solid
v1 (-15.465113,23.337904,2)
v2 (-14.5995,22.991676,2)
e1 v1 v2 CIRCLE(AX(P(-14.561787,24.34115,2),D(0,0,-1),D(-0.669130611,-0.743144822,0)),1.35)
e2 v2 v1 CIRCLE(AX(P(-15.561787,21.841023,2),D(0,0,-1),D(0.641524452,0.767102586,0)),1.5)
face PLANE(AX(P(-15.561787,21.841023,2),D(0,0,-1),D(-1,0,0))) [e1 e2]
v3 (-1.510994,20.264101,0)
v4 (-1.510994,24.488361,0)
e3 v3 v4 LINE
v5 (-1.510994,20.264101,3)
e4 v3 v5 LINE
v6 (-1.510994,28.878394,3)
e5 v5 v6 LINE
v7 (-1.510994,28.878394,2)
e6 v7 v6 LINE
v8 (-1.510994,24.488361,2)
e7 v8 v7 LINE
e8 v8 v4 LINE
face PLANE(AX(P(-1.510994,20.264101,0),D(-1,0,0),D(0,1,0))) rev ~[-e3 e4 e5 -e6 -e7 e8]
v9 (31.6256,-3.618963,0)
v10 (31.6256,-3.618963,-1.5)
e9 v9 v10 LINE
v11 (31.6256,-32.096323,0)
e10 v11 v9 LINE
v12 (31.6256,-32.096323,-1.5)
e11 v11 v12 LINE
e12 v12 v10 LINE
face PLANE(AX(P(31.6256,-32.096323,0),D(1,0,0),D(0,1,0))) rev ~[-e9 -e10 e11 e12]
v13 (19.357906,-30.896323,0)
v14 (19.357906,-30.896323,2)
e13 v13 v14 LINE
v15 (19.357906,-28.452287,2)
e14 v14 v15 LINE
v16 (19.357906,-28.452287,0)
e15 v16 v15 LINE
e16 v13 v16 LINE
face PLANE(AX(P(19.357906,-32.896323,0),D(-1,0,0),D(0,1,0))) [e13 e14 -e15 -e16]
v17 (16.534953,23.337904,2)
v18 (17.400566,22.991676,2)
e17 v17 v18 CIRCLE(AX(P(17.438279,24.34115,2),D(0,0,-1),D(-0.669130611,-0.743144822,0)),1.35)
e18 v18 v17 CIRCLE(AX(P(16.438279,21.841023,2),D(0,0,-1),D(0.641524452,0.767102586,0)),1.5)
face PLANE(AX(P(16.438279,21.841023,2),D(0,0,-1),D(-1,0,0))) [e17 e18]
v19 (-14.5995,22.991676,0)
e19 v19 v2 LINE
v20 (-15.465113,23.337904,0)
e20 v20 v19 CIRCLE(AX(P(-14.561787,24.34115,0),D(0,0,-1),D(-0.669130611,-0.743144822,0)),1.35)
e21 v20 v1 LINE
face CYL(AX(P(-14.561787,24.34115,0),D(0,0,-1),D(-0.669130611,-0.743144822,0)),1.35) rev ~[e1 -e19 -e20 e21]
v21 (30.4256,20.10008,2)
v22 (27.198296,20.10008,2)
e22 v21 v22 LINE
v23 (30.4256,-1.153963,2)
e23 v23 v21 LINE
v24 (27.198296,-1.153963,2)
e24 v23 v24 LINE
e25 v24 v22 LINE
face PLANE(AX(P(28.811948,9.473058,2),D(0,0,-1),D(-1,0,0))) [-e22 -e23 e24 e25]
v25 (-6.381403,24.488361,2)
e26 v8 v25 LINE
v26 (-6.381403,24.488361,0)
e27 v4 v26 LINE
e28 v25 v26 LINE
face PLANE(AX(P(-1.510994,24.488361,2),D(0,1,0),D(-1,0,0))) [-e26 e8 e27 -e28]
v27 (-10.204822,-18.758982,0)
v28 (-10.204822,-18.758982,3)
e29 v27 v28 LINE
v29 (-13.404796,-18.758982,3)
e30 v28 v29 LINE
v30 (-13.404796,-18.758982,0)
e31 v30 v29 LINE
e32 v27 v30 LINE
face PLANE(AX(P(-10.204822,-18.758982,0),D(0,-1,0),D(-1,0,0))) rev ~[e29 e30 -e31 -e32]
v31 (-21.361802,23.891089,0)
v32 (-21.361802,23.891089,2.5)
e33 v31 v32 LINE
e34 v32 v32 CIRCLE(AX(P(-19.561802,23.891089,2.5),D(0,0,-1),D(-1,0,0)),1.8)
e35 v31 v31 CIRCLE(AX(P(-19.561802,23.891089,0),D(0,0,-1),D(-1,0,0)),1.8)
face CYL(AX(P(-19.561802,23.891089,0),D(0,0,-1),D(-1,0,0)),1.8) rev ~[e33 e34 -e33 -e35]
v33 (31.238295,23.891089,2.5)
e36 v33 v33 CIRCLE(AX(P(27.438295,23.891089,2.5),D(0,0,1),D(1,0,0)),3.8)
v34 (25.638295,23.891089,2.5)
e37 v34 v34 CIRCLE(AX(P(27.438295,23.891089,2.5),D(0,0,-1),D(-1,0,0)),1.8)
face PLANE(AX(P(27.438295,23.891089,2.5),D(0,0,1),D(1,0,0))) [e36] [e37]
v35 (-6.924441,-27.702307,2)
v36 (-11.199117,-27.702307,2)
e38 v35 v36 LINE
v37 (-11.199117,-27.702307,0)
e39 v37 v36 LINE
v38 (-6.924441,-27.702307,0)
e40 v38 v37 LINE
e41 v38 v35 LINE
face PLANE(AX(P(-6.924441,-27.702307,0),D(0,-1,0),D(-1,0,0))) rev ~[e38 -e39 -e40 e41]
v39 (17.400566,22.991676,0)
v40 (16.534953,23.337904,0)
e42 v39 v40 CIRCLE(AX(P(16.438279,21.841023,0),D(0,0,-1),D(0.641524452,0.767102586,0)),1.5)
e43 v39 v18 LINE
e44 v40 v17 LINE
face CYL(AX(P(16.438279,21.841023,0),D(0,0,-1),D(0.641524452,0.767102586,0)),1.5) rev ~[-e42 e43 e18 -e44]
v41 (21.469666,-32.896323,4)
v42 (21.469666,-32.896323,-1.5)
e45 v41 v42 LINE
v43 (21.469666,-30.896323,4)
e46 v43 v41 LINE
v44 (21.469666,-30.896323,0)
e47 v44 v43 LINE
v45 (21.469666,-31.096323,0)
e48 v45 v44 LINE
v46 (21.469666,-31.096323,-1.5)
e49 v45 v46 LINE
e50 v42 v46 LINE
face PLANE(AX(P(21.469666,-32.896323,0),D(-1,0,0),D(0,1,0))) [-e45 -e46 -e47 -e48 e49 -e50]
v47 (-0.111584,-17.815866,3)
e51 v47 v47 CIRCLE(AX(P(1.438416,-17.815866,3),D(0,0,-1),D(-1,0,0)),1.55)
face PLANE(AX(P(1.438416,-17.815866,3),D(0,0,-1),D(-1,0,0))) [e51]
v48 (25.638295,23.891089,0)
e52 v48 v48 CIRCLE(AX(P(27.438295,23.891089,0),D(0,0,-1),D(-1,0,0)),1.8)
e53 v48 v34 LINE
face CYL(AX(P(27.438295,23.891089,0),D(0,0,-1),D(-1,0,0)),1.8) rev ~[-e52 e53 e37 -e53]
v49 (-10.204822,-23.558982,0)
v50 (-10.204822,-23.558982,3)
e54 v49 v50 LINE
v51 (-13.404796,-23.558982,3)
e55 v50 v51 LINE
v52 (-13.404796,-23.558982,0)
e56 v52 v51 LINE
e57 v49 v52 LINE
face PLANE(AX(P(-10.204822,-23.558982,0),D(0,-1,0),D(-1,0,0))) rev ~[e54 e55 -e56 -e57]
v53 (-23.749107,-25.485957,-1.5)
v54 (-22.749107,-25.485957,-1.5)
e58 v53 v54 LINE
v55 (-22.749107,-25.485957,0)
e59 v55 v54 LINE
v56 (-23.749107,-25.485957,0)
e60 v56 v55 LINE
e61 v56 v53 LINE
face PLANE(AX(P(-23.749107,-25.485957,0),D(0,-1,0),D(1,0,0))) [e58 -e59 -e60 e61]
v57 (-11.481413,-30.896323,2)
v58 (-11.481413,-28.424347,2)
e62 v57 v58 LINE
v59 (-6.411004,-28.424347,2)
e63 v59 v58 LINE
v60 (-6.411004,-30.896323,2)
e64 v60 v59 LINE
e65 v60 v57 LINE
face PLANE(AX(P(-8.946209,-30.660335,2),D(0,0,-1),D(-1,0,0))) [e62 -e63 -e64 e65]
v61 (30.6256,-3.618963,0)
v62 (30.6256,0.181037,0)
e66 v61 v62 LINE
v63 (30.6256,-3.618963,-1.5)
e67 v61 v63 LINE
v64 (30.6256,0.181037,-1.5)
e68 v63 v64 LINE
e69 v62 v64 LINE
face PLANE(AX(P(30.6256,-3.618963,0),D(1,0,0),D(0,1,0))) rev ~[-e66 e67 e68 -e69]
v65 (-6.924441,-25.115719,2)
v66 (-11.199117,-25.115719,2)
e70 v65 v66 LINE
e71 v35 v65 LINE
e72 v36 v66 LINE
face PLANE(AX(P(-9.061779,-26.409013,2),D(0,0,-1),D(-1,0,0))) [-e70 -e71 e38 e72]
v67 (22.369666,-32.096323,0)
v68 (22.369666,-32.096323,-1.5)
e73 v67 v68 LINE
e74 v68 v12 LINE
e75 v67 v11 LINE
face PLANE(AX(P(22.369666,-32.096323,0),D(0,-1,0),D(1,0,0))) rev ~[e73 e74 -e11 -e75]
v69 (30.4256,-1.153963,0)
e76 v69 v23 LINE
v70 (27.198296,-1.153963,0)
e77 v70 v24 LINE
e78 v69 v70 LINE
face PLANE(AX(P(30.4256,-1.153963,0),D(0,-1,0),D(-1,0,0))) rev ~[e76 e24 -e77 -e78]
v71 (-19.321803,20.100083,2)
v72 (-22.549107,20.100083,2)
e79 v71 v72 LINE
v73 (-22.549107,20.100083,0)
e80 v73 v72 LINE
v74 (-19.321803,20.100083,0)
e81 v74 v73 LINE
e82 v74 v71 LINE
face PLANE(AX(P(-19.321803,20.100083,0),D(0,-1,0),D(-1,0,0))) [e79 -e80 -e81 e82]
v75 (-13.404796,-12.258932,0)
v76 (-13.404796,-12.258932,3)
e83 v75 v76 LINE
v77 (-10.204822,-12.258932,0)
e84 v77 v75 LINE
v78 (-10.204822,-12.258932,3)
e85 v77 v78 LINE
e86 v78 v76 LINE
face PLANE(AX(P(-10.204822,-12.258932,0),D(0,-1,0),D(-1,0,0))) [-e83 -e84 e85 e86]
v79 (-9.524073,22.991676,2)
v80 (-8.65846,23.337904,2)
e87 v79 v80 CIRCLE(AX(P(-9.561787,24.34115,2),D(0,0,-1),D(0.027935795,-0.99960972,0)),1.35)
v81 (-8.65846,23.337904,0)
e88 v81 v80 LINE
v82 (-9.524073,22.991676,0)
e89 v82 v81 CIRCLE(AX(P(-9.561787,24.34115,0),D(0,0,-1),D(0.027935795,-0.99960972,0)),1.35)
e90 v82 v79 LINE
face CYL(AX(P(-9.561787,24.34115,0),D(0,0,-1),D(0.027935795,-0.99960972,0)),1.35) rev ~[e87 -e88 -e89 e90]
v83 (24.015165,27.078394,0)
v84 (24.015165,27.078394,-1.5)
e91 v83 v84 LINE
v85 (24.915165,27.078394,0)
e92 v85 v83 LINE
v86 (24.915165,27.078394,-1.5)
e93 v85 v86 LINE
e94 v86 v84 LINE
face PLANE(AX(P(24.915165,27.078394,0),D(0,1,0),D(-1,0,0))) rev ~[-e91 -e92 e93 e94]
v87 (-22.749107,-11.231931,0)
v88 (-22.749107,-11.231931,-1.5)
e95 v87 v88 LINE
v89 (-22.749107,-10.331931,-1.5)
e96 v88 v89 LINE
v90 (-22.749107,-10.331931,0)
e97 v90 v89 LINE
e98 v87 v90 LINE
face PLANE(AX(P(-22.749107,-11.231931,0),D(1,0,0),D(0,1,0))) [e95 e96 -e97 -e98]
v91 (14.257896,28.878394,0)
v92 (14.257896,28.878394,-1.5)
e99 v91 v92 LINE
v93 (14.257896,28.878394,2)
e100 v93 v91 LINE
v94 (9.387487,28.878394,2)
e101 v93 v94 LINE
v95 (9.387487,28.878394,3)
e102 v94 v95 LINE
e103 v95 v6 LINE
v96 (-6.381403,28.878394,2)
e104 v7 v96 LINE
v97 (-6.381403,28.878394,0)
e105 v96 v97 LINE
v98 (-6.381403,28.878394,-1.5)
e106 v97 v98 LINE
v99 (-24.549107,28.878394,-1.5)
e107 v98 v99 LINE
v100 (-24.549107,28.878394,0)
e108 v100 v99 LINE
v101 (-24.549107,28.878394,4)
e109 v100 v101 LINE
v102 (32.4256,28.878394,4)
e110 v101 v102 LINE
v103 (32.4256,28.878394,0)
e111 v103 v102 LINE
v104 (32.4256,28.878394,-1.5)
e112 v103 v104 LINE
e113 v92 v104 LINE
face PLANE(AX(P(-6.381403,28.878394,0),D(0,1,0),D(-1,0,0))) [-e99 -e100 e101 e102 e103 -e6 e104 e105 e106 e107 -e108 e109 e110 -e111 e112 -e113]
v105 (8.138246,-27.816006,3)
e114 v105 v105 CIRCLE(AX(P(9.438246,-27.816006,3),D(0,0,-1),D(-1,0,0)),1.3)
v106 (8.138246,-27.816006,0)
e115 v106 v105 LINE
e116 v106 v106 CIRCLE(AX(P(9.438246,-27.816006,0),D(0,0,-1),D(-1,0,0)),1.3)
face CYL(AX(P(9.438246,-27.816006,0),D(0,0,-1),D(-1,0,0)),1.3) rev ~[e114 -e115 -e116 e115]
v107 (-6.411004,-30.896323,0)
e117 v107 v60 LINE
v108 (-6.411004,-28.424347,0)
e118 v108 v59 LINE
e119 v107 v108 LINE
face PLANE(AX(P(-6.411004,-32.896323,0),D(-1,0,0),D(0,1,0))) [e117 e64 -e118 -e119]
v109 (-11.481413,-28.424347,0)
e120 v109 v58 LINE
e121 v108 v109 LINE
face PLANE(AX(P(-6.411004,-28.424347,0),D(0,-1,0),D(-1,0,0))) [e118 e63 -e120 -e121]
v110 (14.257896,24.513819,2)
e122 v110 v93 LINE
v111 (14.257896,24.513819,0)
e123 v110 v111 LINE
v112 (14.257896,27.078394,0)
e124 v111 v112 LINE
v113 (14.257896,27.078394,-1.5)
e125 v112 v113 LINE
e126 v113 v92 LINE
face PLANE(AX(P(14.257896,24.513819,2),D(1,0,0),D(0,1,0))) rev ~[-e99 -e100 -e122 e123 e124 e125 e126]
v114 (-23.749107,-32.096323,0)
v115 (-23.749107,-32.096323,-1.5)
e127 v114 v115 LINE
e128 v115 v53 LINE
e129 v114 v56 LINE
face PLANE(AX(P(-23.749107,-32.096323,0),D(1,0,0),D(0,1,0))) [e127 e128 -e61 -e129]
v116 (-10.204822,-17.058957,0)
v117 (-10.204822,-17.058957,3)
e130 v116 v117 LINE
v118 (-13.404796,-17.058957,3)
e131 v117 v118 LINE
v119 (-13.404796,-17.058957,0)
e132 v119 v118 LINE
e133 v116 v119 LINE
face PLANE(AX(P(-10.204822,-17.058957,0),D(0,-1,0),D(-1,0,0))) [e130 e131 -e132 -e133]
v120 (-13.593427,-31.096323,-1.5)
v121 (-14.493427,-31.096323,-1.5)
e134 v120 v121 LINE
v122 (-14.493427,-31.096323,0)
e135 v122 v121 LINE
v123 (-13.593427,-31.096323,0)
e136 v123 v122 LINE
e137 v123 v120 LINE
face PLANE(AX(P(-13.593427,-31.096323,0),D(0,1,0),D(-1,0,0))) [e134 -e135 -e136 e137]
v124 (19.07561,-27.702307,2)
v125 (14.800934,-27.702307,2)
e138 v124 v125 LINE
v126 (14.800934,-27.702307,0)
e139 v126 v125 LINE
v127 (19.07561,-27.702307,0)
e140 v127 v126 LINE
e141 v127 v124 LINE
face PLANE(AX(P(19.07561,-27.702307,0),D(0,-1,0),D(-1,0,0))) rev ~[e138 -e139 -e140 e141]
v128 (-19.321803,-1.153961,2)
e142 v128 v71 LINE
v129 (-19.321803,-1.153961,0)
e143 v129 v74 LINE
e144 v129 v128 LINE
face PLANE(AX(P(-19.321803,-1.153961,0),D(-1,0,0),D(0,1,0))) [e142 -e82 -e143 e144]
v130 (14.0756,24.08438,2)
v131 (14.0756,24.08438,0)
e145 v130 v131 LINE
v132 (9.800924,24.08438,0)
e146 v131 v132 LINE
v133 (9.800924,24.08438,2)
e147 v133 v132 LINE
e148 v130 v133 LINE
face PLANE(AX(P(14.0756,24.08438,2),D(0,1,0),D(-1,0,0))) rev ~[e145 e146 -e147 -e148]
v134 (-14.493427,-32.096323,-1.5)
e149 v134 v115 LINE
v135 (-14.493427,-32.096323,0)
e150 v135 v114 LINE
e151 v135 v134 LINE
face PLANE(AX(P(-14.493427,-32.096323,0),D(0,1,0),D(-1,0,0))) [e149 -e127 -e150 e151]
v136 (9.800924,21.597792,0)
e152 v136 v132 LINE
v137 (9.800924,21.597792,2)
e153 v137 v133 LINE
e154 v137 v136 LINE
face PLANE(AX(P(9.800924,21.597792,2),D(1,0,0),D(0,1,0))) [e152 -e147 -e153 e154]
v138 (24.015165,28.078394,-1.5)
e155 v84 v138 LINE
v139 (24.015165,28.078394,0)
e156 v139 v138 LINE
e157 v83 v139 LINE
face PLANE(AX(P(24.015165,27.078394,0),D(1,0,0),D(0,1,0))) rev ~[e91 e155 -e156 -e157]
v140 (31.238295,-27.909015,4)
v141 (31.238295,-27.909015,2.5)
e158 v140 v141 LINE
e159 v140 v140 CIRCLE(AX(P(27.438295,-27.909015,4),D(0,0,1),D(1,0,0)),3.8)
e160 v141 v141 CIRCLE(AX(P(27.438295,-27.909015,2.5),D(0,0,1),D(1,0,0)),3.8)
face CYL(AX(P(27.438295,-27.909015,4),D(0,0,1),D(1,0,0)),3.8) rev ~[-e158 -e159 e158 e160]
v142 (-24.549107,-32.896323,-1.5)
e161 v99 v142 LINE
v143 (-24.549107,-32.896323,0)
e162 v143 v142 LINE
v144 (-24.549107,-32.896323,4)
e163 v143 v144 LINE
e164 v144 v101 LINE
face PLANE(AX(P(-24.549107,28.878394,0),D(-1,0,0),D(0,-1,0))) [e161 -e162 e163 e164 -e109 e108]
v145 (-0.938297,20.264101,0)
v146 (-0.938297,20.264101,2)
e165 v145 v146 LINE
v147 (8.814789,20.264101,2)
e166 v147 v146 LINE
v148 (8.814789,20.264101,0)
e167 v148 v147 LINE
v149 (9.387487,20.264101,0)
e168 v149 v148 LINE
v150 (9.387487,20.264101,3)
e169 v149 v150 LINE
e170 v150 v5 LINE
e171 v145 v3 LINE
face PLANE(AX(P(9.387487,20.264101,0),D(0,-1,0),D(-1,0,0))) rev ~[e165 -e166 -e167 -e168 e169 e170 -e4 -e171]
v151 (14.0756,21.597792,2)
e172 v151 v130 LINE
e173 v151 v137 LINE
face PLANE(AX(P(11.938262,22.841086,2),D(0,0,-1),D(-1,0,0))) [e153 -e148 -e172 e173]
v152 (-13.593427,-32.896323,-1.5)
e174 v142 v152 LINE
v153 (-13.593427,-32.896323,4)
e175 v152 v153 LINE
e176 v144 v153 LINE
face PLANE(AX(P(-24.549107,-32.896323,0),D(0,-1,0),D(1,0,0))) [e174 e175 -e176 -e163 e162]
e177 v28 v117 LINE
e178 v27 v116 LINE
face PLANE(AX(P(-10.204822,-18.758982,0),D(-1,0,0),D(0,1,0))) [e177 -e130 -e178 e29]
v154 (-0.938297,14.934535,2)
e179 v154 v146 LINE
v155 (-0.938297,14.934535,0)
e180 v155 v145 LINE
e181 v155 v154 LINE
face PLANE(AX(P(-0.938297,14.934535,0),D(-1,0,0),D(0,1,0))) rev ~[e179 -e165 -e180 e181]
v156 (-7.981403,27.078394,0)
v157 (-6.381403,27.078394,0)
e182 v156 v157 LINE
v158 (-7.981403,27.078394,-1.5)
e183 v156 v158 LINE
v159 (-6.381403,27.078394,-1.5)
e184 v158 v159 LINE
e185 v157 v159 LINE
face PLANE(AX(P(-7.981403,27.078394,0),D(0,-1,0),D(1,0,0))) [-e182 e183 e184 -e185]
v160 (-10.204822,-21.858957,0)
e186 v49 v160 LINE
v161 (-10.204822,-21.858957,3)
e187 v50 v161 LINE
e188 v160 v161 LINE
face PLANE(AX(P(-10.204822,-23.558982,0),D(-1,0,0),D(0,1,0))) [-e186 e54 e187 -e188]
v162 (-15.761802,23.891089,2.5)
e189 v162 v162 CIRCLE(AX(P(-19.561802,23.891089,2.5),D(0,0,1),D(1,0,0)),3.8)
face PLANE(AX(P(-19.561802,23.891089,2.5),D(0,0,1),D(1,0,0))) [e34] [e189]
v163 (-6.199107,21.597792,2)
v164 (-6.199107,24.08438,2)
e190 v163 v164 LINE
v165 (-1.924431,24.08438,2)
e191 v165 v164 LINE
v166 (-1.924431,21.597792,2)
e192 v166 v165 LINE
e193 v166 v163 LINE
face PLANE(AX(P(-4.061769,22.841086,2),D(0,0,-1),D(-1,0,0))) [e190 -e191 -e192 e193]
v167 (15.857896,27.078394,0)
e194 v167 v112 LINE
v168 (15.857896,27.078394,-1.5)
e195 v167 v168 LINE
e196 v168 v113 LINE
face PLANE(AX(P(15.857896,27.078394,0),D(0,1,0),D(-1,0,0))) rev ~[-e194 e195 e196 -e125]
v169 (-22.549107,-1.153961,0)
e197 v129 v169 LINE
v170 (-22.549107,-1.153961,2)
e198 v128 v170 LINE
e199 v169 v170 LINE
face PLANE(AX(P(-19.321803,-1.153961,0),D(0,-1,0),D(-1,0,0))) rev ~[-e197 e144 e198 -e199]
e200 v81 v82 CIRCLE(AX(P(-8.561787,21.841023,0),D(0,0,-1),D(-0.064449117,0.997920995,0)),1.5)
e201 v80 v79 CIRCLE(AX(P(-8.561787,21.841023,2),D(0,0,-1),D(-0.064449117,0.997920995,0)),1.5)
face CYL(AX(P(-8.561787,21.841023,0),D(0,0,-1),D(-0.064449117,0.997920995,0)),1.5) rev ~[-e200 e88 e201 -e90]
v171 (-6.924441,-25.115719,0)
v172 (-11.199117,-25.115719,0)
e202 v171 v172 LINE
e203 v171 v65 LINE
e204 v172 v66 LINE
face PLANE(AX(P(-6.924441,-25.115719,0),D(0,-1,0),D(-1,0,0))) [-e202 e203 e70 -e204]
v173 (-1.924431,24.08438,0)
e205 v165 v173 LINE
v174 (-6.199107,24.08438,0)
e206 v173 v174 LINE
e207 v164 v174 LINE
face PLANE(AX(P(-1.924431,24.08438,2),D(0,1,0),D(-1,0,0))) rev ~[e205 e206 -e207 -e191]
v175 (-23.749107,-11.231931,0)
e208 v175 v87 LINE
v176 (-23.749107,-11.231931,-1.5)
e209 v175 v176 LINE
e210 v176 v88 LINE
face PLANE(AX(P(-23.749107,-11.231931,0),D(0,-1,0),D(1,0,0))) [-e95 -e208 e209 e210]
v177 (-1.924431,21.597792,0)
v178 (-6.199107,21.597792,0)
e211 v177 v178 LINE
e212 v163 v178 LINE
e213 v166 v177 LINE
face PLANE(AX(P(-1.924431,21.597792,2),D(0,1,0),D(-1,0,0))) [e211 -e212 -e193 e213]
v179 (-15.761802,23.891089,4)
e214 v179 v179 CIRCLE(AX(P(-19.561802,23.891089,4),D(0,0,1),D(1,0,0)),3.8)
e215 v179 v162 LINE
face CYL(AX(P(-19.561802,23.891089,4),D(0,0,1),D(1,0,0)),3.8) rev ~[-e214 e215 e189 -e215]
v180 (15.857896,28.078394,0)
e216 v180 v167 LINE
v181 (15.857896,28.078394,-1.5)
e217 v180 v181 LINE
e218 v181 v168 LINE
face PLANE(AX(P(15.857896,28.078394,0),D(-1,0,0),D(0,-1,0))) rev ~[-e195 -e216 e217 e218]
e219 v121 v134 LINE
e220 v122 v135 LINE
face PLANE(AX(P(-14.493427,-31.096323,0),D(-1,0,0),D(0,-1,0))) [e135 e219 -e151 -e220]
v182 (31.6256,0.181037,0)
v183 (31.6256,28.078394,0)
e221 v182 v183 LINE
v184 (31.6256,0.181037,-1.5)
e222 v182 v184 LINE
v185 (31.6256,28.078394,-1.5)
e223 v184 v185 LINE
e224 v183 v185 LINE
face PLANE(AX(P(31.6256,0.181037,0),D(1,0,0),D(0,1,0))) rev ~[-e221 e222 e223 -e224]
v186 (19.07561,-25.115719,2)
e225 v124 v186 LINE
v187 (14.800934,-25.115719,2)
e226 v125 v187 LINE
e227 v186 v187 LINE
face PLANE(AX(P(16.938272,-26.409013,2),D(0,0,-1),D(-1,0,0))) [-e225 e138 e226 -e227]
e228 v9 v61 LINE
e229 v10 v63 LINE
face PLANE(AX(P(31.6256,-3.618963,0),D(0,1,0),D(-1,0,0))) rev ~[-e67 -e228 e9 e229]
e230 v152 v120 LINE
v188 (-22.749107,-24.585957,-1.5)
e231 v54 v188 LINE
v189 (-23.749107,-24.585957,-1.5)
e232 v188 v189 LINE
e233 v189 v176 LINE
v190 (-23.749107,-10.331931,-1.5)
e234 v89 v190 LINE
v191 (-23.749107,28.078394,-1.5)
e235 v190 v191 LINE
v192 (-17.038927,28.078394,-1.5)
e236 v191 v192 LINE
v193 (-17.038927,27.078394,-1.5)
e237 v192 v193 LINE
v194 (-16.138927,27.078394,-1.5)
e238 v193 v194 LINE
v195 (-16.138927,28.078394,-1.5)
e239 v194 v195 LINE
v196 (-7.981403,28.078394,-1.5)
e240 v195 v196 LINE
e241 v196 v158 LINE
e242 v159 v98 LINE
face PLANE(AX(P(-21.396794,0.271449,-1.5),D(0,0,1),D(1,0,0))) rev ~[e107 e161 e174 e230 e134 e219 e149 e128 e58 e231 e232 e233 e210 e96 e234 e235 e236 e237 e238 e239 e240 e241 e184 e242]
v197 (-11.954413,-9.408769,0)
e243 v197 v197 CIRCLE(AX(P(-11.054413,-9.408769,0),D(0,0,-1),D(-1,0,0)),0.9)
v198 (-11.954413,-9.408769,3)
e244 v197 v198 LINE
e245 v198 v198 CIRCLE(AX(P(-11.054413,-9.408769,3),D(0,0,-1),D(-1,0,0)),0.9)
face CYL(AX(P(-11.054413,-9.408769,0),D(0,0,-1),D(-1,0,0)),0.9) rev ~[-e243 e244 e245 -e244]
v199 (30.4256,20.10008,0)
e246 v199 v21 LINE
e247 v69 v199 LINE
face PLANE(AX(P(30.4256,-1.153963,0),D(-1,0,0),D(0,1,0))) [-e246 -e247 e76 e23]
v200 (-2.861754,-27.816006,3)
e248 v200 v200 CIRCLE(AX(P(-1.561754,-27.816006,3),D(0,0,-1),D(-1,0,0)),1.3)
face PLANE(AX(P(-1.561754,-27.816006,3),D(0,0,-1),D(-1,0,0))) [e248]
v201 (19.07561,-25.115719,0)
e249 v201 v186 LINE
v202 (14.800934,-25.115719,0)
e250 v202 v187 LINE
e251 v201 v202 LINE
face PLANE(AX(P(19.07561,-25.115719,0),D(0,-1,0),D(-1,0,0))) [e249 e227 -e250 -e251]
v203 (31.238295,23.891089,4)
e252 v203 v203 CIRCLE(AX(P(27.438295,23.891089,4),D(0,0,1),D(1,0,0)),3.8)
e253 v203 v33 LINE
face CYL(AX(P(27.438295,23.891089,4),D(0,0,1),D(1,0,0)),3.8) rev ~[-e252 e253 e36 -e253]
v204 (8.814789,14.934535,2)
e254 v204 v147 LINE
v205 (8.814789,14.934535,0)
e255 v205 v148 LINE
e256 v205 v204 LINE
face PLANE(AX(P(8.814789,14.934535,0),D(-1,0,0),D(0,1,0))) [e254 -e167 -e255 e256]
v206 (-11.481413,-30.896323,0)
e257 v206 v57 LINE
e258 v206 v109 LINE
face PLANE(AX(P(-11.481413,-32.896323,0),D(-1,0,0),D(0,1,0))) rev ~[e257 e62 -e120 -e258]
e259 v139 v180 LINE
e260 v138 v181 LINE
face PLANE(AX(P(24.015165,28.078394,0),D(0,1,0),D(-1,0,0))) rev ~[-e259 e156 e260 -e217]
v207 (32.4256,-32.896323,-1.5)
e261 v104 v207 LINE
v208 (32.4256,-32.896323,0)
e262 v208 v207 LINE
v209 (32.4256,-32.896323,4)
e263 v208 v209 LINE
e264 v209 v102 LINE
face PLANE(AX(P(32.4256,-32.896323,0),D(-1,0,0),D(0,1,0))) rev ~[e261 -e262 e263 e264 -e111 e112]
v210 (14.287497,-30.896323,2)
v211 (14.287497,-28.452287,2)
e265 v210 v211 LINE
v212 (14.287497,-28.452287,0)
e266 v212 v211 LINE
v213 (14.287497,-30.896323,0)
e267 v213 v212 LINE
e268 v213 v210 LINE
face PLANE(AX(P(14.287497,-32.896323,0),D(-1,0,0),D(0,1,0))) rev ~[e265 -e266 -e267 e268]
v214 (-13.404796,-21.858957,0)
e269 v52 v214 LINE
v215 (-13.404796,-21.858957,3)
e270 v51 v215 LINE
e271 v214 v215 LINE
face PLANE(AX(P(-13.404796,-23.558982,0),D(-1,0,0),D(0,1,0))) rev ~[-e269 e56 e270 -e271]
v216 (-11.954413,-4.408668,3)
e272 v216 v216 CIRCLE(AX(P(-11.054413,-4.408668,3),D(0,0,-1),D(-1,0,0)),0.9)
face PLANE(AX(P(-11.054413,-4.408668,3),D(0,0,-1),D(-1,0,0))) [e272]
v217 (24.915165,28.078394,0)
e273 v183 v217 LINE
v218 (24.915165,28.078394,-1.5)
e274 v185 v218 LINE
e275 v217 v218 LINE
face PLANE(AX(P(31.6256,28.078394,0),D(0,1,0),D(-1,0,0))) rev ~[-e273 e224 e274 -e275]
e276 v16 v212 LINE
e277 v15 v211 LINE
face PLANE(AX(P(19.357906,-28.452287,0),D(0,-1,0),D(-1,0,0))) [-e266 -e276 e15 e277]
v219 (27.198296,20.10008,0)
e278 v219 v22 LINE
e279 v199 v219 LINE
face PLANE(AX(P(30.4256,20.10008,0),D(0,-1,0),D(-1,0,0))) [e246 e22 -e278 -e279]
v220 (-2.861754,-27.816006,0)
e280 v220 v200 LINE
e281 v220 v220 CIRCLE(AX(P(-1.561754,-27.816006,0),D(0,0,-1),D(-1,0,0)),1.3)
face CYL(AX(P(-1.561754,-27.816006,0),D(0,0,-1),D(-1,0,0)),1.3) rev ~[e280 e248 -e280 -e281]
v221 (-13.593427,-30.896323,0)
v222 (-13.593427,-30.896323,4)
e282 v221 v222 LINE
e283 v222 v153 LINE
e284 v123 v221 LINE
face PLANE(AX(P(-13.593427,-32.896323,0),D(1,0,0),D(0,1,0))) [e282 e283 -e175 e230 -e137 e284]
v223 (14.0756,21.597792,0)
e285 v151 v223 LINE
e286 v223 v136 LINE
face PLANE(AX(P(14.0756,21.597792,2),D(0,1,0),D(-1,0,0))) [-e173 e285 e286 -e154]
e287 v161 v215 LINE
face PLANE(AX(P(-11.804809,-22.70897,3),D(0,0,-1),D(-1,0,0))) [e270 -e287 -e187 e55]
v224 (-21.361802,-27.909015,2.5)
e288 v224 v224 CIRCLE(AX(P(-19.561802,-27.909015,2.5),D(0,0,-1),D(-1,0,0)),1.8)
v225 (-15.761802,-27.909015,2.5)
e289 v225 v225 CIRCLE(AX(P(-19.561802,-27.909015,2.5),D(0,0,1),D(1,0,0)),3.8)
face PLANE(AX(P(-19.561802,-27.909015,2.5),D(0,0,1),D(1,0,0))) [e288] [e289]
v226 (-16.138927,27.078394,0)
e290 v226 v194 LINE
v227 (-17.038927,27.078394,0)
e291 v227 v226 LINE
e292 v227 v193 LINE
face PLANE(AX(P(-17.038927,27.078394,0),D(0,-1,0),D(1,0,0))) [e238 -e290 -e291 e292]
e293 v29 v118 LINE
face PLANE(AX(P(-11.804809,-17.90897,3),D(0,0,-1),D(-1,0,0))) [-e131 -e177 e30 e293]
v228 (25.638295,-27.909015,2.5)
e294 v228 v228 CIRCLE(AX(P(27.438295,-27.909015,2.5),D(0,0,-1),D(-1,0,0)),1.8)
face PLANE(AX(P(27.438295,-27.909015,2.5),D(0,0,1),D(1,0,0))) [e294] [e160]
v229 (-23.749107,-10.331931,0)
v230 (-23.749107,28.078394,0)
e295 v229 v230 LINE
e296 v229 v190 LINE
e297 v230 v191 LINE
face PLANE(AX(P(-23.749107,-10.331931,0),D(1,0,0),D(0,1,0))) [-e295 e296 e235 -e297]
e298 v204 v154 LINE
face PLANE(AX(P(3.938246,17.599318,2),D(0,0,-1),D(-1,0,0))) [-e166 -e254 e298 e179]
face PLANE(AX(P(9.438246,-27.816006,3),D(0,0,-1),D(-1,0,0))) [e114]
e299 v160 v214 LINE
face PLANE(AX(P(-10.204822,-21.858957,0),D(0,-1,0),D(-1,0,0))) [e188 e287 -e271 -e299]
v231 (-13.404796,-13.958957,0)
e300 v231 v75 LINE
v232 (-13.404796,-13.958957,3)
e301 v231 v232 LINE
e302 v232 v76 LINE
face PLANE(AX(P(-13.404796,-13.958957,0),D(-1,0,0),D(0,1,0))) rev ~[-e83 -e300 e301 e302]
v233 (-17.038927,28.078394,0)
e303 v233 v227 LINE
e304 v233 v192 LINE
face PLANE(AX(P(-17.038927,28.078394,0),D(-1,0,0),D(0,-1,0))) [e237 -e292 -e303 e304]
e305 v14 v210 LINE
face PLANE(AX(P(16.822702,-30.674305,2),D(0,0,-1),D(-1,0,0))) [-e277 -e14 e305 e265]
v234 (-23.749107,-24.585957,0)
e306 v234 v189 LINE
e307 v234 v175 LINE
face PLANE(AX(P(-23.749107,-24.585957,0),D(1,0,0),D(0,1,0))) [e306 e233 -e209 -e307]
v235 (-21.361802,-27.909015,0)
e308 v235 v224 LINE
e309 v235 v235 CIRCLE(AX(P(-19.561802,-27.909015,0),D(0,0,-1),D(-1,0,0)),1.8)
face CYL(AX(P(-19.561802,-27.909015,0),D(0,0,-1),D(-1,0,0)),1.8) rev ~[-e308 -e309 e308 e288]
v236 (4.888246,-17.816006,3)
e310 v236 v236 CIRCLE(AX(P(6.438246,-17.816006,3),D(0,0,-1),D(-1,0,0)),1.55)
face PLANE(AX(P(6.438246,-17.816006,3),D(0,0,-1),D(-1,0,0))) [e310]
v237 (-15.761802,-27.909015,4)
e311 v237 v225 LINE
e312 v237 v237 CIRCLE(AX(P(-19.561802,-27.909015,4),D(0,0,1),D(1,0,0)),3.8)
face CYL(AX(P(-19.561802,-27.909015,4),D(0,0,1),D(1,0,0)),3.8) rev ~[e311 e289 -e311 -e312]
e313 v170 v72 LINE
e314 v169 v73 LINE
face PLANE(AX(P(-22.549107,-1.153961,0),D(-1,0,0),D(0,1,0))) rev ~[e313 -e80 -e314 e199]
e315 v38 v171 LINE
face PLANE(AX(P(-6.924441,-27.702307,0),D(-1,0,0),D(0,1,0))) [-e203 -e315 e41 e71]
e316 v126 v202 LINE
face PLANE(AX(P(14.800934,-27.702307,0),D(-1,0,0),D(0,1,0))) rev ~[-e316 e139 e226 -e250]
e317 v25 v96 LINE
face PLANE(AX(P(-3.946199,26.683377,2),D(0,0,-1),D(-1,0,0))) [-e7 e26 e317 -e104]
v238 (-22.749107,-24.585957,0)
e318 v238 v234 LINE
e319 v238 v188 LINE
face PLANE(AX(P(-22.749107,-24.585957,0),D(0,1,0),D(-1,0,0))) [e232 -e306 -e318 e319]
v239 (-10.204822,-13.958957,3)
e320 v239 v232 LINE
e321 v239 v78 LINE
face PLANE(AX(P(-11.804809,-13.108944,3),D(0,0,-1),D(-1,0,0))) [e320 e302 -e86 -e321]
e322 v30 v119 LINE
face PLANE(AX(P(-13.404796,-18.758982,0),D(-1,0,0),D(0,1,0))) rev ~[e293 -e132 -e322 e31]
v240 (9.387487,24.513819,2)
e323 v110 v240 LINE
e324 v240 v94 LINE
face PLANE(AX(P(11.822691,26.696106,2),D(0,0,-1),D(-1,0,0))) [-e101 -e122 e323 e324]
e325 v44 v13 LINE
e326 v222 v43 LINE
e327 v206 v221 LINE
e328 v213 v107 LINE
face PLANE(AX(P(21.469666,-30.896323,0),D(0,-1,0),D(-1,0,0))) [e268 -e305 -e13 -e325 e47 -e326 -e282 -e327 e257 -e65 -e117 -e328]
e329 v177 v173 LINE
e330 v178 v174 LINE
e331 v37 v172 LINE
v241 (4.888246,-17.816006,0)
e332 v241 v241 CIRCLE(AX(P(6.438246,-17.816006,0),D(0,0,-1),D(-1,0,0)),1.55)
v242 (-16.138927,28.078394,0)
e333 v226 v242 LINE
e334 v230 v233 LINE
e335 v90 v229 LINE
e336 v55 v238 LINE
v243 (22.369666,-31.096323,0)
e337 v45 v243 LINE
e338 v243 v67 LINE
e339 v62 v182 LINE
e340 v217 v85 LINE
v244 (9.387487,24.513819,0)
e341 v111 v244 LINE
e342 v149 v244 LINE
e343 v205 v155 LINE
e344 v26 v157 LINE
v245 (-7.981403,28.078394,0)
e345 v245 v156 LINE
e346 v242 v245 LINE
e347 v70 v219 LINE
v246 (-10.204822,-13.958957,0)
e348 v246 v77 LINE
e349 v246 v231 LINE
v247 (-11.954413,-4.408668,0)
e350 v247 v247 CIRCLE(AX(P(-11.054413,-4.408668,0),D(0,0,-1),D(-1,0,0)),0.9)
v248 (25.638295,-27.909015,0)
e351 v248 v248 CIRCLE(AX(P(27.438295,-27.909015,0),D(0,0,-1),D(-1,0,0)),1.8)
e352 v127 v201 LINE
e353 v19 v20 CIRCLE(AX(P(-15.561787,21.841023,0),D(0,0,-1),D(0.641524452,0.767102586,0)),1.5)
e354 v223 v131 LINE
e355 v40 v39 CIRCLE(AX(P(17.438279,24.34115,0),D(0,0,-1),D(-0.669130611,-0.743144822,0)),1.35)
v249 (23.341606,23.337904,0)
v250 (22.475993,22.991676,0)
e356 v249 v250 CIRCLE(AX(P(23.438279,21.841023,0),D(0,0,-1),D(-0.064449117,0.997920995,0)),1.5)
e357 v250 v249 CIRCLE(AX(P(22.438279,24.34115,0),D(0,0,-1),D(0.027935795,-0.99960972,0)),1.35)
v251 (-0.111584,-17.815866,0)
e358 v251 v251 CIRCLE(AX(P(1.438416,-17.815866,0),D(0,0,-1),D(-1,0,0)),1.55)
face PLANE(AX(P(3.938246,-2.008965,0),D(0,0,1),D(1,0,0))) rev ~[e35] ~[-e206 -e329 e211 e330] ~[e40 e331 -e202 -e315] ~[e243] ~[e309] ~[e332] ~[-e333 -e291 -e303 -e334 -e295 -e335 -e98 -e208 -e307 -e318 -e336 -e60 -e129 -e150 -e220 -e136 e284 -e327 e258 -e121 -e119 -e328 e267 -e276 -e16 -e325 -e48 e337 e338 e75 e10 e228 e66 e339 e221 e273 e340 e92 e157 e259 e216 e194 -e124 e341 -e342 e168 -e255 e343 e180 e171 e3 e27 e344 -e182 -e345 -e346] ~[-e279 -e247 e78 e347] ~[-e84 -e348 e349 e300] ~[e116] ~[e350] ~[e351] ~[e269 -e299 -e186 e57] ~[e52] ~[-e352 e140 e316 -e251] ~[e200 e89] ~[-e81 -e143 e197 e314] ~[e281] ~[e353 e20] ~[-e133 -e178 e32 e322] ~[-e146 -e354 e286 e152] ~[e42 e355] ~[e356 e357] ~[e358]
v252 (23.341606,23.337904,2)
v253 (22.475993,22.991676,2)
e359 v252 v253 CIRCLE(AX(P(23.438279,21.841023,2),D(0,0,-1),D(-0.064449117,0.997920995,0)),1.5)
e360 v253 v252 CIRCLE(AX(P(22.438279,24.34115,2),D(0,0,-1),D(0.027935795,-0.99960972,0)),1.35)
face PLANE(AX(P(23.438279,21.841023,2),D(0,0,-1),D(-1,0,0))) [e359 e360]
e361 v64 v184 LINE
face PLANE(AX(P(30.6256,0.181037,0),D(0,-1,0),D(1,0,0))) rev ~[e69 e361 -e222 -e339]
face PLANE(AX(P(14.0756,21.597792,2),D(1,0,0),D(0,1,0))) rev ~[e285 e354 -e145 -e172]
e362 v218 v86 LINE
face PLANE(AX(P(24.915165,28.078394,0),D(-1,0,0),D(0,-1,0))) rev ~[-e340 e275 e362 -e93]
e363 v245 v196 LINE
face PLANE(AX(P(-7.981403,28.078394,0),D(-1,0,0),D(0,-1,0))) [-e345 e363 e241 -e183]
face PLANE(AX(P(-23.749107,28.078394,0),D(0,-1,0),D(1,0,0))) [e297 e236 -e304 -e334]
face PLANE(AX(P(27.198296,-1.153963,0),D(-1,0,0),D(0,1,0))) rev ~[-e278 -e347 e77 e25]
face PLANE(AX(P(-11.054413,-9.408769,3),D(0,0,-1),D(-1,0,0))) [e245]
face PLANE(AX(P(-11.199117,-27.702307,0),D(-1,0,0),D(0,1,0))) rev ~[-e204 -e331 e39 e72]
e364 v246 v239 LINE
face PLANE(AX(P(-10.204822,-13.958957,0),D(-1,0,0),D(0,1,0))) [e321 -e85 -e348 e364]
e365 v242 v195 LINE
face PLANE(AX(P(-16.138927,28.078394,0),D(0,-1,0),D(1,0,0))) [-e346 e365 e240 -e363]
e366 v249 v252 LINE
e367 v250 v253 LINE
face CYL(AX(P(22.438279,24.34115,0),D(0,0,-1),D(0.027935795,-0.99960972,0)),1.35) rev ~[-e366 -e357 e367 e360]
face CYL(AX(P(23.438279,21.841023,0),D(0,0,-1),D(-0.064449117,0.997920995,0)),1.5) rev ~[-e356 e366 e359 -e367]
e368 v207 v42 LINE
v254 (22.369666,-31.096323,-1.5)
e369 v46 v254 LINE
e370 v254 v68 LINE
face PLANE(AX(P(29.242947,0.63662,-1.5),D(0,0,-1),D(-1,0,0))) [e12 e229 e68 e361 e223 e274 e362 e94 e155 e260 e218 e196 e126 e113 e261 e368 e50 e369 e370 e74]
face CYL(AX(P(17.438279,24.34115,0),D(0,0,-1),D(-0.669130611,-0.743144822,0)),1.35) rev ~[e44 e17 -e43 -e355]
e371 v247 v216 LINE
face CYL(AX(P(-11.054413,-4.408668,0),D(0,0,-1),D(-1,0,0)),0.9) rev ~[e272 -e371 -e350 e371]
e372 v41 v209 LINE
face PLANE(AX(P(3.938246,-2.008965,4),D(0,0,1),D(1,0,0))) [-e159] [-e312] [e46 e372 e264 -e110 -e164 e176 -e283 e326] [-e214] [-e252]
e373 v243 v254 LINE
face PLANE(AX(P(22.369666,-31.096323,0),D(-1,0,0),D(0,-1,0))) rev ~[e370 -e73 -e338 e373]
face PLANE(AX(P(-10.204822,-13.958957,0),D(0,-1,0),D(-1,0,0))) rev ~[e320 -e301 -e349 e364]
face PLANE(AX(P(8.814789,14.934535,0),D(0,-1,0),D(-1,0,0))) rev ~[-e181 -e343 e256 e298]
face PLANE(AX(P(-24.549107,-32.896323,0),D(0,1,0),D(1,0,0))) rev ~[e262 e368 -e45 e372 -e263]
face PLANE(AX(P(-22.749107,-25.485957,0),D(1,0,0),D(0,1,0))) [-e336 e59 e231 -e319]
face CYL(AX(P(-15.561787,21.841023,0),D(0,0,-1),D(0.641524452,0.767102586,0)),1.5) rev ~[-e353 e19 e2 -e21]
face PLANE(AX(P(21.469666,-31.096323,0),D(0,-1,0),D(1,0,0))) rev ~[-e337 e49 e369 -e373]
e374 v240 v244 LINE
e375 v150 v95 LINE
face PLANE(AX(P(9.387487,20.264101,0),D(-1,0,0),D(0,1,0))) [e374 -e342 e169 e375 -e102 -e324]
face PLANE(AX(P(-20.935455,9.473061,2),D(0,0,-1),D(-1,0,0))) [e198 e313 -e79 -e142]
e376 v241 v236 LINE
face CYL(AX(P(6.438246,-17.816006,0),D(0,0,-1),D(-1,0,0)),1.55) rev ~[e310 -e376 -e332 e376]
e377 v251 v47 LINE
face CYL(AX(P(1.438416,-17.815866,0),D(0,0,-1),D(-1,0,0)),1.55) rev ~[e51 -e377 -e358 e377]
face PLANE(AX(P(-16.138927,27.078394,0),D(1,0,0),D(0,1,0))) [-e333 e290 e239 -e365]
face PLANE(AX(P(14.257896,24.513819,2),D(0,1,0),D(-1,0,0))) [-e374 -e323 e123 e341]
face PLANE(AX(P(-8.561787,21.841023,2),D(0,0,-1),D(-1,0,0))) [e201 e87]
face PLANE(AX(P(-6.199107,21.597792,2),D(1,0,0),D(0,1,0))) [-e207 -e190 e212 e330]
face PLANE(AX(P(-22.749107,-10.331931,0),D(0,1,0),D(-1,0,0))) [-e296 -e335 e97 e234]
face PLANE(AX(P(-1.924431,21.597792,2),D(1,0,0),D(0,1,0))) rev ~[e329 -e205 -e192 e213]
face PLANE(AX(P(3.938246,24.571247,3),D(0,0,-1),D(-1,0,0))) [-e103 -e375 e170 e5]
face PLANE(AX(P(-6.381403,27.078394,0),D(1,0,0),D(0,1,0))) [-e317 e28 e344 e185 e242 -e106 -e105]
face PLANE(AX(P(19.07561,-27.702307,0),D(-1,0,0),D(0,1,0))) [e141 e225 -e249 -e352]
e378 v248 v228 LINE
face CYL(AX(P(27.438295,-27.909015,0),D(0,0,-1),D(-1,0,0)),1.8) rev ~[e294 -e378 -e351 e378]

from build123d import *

# Parameters (mm, degrees)
SKETCH_1_W               = 56.974706629
SKETCH_1_H               = 61.774716789
EXTRUDE_1_DEPTH          = 4
CUT_EXTRUDE_1_DEPTH      = 0.2
CUT_EXTRUDE_1_DEPTH_BACK = 2
SKETCH_2_W               = 4.870408941
SKETCH_2_H               = 4.364574549
SKETCH_2_H_2             = 4.39003302
SKETCH_2_W_2             = 4.274676149
SKETCH_2_H_3             = 2.486588773
SKETCH_3_W               = 10.898481077
SKETCH_3_H               = 8.614292609
CUT_EXTRUDE_2_DEPTH      = 3
SKETCH_4_W               = 9.753086106
SKETCH_4_H               = 5.329565659
CUT_EXTRUDE_3_DEPTH      = 2
SKETCH_5_R               = 1.5
SKETCH_5_R_2             = 1.35
CUT_EXTRUDE_4_DEPTH      = 2
SKETCH_6_W               = 3.227303784
SKETCH_6_H               = 21.254043688
CUT_EXTRUDE_5_DEPTH      = 2
SKETCH_7_R               = 1.55
SKETCH_7_R_2             = 1.3
SKETCH_7_R_3             = 0.9
SKETCH_7_W               = 3.1999746
SKETCH_7_H               = 1.7000254
CUT_EXTRUDE_8_DEPTH      = 3
SKETCH_9_W               = 4.274676149
SKETCH_9_H               = 2.586588773
SKETCH_9_W_2             = 5.070408941
SKETCH_9_H_2             = 4.471976124
SKETCH_9_H_3             = 4.444036068
CUT_EXTRUDE_9_DEPTH      = 2
SKETCH_10_W              = 35.063093726
SKETCH_10_H              = 2
CUT_EXTRUDE_10_DEPTH     = 47.363645154
EXTRUDE_2_DEPTH          = 1.5
SKETCH_12_R              = 1.8
CUT_EXTRUDE_11_DEPTH     = 5
SKETCH_13_R              = 3.8
CUT_EXTRUDE_12_DEPTH     = 1.5


with BuildPart() as part:
    # 草图1 → 凸台-拉伸1 (new body)
    with BuildSketch(Plane.XY):
        with Locations((3.938246432, -2.008964698)):
            Rectangle(SKETCH_1_W, SKETCH_1_H)
    extrude(amount=EXTRUDE_1_DEPTH)

    # 草图2 → 切除-拉伸1 (cut, two sides: drawn at the far end of the back side and taken through both)
    with BuildSketch(Plane(origin=(0, 0, 0), x_dir=(-1, 0, 0), z_dir=(0, 0, -1)).offset(-CUT_EXTRUDE_1_DEPTH_BACK)):
        with Locations((-11.822691441, 26.696106422)):
            Rectangle(SKETCH_2_W, SKETCH_2_H)
        with Locations((3.946198578, 26.683377186)):
            Rectangle(SKETCH_2_W, SKETCH_2_H_2)
        with Locations((4.061768809, 22.841086102)):
            Rectangle(SKETCH_2_W_2, SKETCH_2_H_3)
        with Locations((-11.938261672, 22.841086102)):
            Rectangle(SKETCH_2_W_2, SKETCH_2_H_3)
    extrude(amount=CUT_EXTRUDE_1_DEPTH + CUT_EXTRUDE_1_DEPTH_BACK, mode=Mode.SUBTRACT)

    # 草图3 → 切除-拉伸2 (cut)
    with BuildSketch(Plane(origin=(0, 0, 0), x_dir=(-1, 0, 0), z_dir=(0, 0, -1))):
        with Locations((-3.938246432, 24.571247392)):
            Rectangle(SKETCH_3_W, SKETCH_3_H)
    extrude(amount=-CUT_EXTRUDE_2_DEPTH, mode=Mode.SUBTRACT)

    # 草图4 → 切除-拉伸3 (cut)
    with BuildSketch(Plane(origin=(0, 0, 0), x_dir=(-1, 0, 0), z_dir=(0, 0, -1))):
        with Locations((-3.938246431, 17.599318258)):
            Rectangle(SKETCH_4_W, SKETCH_4_H)
    extrude(amount=-CUT_EXTRUDE_3_DEPTH, mode=Mode.SUBTRACT)

    # 草图5 → 切除-拉伸4 (cut)
    with BuildSketch(Plane(origin=(0, 0, 0), x_dir=(-1, 0, 0), z_dir=(0, 0, -1))):
        with Locations((-16.438279451, 21.841022601)):
            Circle(SKETCH_5_R)
        with Locations((-17.438279451, 24.341149602)):
            Circle(SKETCH_5_R_2)
        with Locations((-23.438279451, 21.841022601)):
            Circle(SKETCH_5_R)
        with Locations((-22.438279451, 24.341149602)):
            Circle(SKETCH_5_R_2)
        with Locations((8.561786589, 21.841022601)):
            Circle(SKETCH_5_R)
        with Locations((9.561786589, 24.341149602)):
            Circle(SKETCH_5_R_2)
        with Locations((15.561786589, 21.841022601)):
            Circle(SKETCH_5_R)
        with Locations((14.561786589, 24.341149602)):
            Circle(SKETCH_5_R_2)
    extrude(amount=-CUT_EXTRUDE_4_DEPTH, mode=Mode.SUBTRACT)

    # 草图6 → 切除-拉伸5 (cut)
    with BuildSketch(Plane(origin=(0, 0, 0), x_dir=(-1, 0, 0), z_dir=(0, 0, -1))):
        with Locations((20.935454991, 9.473060955)):
            Rectangle(SKETCH_6_W, SKETCH_6_H)
        with Locations((-28.811947854, 9.473058415)):
            Rectangle(SKETCH_6_W, SKETCH_6_H)
    extrude(amount=-CUT_EXTRUDE_5_DEPTH, mode=Mode.SUBTRACT)

    # 草图7 → 切除-拉伸8 (cut)
    with BuildSketch(Plane(origin=(0, 0, 0), x_dir=(-1, 0, 0), z_dir=(0, 0, -1))):
        with Locations((-1.438416122, -17.815866469)):
            Circle(SKETCH_7_R)
        with Locations((-6.438246431, -17.816005593)):
            Circle(SKETCH_7_R)
        with Locations((-9.438246431, -27.816005593)):
            Circle(SKETCH_7_R_2)
        with Locations((1.561753569, -27.816005593)):
            Circle(SKETCH_7_R_2)
        with Locations((11.054412954, -4.408667518)):
            Circle(SKETCH_7_R_3)
        with Locations((11.054412954, -9.408769118)):
            Circle(SKETCH_7_R_3)
        with Locations((11.804809195, -13.108944379)):
            Rectangle(SKETCH_7_W, SKETCH_7_H)
        with Locations((11.804809195, -17.908969779)):
            Rectangle(SKETCH_7_W, SKETCH_7_H)
        with Locations((11.804809195, -22.708969779)):
            Rectangle(SKETCH_7_W, SKETCH_7_H)
    extrude(amount=-CUT_EXTRUDE_8_DEPTH, mode=Mode.SUBTRACT)

    # 草图9 → 切除-拉伸9 (cut)
    with BuildSketch(Plane(origin=(0, 0, 0), x_dir=(-1, 0, 0), z_dir=(0, 0, -1))):
        with Locations((9.061778969, -26.409012958)):
            Rectangle(SKETCH_9_W, SKETCH_9_H)
        with Locations((8.946208738, -30.660335031)):
            Rectangle(SKETCH_9_W_2, SKETCH_9_H_2)
        with Locations((-16.938271831, -26.409012958)):
            Rectangle(SKETCH_9_W, SKETCH_9_H)
        with Locations((-16.822701601, -30.674305059)):
            Rectangle(SKETCH_9_W_2, SKETCH_9_H_3)
    extrude(amount=-CUT_EXTRUDE_9_DEPTH, mode=Mode.SUBTRACT)

    # 草图10 → 切除-拉伸10 (cut, through all)
    with BuildSketch(Plane(origin=(0, 0, 0), x_dir=(-1, 0, 0), z_dir=(0, 0, -1))):
        with Locations((-3.938119431, -31.896323093)):
            Rectangle(SKETCH_10_W, SKETCH_10_H)
    extrude(amount=-CUT_EXTRUDE_10_DEPTH, mode=Mode.SUBTRACT)

    # 草图11 → 凸台-拉伸2 (add)
    with BuildSketch(Plane(origin=(0, 0, 0), x_dir=(-1, 0, 0), z_dir=(0, 0, -1))):
        Polygon((6.381403048, 28.878393696), (24.549106883, 28.878393696), (24.549106883, -32.896323093), (13.593427432, -32.896323093), (13.593427432, -31.096323093), (14.493427432, -31.096323093), (14.493427432, -32.096323093), (23.749106883, -32.096323093), (23.749106883, -25.485957333), (22.749106883, -25.485957333), (22.749106883, -24.585957333), (23.749106883, -24.585957333), (23.749106883, -11.231931425), (22.749106883, -11.231931425), (22.749106883, -10.331931425), (23.749106883, -10.331931425), (23.749106883, 28.078393696), (17.038926543, 28.078393696), (17.038926543, 27.078393696), (16.138926543, 27.078393696), (16.138926543, 28.078393696), (7.981403048, 28.078393696), (7.981403048, 27.078393696), (6.381403048, 27.078393696), align=None)
        Polygon((-32.425599746, 28.878393696), (-32.425599746, -32.896323093), (-21.469666294, -32.896323093), (-21.469666294, -31.096323093), (-22.369666294, -31.096323093), (-22.369666294, -32.096323093), (-31.625599746, -32.096323093), (-31.625599746, -3.618963429), (-30.625599746, -3.618963429), (-30.625599746, 0.181036571), (-31.625599746, 0.181036571), (-31.625599746, 28.078393696), (-24.915165405, 28.078393696), (-24.915165405, 27.078393696), (-24.015165405, 27.078393696), (-24.015165405, 28.078393696), (-15.857895911, 28.078393696), (-15.857895911, 27.078393696), (-14.257895911, 27.078393696), (-14.257895911, 28.878393696), align=None)
    extrude(amount=EXTRUDE_2_DEPTH)

    # 草图12 → 切除-拉伸11 (cut)
    with BuildSketch(Plane(origin=(0, 0, 0), x_dir=(-1, 0, 0), z_dir=(0, 0, -1))):
        with Locations((19.561801829, 23.891088641)):
            Circle(SKETCH_12_R)
        with Locations((19.561801829, -27.909015499)):
            Circle(SKETCH_12_R)
        with Locations((-27.438294692, -27.909015499)):
            Circle(SKETCH_12_R)
        with Locations((-27.438294692, 23.891088641)):
            Circle(SKETCH_12_R)
    extrude(amount=-CUT_EXTRUDE_11_DEPTH, mode=Mode.SUBTRACT)

    # 草图13 → 切除-拉伸12 (cut)
    with BuildSketch(Plane.XY.offset(4)):
        with Locations((-19.561801829, -27.909015499)):
            Circle(SKETCH_13_R)
        with Locations((27.438294692, -27.909015499)):
            Circle(SKETCH_13_R)
        with Locations((27.438294692, 23.891088641)):
            Circle(SKETCH_13_R)
        with Locations((-19.561801829, 23.891088641)):
            Circle(SKETCH_13_R)
    extrude(amount=-CUT_EXTRUDE_12_DEPTH, mode=Mode.SUBTRACT)


solid = part.part
